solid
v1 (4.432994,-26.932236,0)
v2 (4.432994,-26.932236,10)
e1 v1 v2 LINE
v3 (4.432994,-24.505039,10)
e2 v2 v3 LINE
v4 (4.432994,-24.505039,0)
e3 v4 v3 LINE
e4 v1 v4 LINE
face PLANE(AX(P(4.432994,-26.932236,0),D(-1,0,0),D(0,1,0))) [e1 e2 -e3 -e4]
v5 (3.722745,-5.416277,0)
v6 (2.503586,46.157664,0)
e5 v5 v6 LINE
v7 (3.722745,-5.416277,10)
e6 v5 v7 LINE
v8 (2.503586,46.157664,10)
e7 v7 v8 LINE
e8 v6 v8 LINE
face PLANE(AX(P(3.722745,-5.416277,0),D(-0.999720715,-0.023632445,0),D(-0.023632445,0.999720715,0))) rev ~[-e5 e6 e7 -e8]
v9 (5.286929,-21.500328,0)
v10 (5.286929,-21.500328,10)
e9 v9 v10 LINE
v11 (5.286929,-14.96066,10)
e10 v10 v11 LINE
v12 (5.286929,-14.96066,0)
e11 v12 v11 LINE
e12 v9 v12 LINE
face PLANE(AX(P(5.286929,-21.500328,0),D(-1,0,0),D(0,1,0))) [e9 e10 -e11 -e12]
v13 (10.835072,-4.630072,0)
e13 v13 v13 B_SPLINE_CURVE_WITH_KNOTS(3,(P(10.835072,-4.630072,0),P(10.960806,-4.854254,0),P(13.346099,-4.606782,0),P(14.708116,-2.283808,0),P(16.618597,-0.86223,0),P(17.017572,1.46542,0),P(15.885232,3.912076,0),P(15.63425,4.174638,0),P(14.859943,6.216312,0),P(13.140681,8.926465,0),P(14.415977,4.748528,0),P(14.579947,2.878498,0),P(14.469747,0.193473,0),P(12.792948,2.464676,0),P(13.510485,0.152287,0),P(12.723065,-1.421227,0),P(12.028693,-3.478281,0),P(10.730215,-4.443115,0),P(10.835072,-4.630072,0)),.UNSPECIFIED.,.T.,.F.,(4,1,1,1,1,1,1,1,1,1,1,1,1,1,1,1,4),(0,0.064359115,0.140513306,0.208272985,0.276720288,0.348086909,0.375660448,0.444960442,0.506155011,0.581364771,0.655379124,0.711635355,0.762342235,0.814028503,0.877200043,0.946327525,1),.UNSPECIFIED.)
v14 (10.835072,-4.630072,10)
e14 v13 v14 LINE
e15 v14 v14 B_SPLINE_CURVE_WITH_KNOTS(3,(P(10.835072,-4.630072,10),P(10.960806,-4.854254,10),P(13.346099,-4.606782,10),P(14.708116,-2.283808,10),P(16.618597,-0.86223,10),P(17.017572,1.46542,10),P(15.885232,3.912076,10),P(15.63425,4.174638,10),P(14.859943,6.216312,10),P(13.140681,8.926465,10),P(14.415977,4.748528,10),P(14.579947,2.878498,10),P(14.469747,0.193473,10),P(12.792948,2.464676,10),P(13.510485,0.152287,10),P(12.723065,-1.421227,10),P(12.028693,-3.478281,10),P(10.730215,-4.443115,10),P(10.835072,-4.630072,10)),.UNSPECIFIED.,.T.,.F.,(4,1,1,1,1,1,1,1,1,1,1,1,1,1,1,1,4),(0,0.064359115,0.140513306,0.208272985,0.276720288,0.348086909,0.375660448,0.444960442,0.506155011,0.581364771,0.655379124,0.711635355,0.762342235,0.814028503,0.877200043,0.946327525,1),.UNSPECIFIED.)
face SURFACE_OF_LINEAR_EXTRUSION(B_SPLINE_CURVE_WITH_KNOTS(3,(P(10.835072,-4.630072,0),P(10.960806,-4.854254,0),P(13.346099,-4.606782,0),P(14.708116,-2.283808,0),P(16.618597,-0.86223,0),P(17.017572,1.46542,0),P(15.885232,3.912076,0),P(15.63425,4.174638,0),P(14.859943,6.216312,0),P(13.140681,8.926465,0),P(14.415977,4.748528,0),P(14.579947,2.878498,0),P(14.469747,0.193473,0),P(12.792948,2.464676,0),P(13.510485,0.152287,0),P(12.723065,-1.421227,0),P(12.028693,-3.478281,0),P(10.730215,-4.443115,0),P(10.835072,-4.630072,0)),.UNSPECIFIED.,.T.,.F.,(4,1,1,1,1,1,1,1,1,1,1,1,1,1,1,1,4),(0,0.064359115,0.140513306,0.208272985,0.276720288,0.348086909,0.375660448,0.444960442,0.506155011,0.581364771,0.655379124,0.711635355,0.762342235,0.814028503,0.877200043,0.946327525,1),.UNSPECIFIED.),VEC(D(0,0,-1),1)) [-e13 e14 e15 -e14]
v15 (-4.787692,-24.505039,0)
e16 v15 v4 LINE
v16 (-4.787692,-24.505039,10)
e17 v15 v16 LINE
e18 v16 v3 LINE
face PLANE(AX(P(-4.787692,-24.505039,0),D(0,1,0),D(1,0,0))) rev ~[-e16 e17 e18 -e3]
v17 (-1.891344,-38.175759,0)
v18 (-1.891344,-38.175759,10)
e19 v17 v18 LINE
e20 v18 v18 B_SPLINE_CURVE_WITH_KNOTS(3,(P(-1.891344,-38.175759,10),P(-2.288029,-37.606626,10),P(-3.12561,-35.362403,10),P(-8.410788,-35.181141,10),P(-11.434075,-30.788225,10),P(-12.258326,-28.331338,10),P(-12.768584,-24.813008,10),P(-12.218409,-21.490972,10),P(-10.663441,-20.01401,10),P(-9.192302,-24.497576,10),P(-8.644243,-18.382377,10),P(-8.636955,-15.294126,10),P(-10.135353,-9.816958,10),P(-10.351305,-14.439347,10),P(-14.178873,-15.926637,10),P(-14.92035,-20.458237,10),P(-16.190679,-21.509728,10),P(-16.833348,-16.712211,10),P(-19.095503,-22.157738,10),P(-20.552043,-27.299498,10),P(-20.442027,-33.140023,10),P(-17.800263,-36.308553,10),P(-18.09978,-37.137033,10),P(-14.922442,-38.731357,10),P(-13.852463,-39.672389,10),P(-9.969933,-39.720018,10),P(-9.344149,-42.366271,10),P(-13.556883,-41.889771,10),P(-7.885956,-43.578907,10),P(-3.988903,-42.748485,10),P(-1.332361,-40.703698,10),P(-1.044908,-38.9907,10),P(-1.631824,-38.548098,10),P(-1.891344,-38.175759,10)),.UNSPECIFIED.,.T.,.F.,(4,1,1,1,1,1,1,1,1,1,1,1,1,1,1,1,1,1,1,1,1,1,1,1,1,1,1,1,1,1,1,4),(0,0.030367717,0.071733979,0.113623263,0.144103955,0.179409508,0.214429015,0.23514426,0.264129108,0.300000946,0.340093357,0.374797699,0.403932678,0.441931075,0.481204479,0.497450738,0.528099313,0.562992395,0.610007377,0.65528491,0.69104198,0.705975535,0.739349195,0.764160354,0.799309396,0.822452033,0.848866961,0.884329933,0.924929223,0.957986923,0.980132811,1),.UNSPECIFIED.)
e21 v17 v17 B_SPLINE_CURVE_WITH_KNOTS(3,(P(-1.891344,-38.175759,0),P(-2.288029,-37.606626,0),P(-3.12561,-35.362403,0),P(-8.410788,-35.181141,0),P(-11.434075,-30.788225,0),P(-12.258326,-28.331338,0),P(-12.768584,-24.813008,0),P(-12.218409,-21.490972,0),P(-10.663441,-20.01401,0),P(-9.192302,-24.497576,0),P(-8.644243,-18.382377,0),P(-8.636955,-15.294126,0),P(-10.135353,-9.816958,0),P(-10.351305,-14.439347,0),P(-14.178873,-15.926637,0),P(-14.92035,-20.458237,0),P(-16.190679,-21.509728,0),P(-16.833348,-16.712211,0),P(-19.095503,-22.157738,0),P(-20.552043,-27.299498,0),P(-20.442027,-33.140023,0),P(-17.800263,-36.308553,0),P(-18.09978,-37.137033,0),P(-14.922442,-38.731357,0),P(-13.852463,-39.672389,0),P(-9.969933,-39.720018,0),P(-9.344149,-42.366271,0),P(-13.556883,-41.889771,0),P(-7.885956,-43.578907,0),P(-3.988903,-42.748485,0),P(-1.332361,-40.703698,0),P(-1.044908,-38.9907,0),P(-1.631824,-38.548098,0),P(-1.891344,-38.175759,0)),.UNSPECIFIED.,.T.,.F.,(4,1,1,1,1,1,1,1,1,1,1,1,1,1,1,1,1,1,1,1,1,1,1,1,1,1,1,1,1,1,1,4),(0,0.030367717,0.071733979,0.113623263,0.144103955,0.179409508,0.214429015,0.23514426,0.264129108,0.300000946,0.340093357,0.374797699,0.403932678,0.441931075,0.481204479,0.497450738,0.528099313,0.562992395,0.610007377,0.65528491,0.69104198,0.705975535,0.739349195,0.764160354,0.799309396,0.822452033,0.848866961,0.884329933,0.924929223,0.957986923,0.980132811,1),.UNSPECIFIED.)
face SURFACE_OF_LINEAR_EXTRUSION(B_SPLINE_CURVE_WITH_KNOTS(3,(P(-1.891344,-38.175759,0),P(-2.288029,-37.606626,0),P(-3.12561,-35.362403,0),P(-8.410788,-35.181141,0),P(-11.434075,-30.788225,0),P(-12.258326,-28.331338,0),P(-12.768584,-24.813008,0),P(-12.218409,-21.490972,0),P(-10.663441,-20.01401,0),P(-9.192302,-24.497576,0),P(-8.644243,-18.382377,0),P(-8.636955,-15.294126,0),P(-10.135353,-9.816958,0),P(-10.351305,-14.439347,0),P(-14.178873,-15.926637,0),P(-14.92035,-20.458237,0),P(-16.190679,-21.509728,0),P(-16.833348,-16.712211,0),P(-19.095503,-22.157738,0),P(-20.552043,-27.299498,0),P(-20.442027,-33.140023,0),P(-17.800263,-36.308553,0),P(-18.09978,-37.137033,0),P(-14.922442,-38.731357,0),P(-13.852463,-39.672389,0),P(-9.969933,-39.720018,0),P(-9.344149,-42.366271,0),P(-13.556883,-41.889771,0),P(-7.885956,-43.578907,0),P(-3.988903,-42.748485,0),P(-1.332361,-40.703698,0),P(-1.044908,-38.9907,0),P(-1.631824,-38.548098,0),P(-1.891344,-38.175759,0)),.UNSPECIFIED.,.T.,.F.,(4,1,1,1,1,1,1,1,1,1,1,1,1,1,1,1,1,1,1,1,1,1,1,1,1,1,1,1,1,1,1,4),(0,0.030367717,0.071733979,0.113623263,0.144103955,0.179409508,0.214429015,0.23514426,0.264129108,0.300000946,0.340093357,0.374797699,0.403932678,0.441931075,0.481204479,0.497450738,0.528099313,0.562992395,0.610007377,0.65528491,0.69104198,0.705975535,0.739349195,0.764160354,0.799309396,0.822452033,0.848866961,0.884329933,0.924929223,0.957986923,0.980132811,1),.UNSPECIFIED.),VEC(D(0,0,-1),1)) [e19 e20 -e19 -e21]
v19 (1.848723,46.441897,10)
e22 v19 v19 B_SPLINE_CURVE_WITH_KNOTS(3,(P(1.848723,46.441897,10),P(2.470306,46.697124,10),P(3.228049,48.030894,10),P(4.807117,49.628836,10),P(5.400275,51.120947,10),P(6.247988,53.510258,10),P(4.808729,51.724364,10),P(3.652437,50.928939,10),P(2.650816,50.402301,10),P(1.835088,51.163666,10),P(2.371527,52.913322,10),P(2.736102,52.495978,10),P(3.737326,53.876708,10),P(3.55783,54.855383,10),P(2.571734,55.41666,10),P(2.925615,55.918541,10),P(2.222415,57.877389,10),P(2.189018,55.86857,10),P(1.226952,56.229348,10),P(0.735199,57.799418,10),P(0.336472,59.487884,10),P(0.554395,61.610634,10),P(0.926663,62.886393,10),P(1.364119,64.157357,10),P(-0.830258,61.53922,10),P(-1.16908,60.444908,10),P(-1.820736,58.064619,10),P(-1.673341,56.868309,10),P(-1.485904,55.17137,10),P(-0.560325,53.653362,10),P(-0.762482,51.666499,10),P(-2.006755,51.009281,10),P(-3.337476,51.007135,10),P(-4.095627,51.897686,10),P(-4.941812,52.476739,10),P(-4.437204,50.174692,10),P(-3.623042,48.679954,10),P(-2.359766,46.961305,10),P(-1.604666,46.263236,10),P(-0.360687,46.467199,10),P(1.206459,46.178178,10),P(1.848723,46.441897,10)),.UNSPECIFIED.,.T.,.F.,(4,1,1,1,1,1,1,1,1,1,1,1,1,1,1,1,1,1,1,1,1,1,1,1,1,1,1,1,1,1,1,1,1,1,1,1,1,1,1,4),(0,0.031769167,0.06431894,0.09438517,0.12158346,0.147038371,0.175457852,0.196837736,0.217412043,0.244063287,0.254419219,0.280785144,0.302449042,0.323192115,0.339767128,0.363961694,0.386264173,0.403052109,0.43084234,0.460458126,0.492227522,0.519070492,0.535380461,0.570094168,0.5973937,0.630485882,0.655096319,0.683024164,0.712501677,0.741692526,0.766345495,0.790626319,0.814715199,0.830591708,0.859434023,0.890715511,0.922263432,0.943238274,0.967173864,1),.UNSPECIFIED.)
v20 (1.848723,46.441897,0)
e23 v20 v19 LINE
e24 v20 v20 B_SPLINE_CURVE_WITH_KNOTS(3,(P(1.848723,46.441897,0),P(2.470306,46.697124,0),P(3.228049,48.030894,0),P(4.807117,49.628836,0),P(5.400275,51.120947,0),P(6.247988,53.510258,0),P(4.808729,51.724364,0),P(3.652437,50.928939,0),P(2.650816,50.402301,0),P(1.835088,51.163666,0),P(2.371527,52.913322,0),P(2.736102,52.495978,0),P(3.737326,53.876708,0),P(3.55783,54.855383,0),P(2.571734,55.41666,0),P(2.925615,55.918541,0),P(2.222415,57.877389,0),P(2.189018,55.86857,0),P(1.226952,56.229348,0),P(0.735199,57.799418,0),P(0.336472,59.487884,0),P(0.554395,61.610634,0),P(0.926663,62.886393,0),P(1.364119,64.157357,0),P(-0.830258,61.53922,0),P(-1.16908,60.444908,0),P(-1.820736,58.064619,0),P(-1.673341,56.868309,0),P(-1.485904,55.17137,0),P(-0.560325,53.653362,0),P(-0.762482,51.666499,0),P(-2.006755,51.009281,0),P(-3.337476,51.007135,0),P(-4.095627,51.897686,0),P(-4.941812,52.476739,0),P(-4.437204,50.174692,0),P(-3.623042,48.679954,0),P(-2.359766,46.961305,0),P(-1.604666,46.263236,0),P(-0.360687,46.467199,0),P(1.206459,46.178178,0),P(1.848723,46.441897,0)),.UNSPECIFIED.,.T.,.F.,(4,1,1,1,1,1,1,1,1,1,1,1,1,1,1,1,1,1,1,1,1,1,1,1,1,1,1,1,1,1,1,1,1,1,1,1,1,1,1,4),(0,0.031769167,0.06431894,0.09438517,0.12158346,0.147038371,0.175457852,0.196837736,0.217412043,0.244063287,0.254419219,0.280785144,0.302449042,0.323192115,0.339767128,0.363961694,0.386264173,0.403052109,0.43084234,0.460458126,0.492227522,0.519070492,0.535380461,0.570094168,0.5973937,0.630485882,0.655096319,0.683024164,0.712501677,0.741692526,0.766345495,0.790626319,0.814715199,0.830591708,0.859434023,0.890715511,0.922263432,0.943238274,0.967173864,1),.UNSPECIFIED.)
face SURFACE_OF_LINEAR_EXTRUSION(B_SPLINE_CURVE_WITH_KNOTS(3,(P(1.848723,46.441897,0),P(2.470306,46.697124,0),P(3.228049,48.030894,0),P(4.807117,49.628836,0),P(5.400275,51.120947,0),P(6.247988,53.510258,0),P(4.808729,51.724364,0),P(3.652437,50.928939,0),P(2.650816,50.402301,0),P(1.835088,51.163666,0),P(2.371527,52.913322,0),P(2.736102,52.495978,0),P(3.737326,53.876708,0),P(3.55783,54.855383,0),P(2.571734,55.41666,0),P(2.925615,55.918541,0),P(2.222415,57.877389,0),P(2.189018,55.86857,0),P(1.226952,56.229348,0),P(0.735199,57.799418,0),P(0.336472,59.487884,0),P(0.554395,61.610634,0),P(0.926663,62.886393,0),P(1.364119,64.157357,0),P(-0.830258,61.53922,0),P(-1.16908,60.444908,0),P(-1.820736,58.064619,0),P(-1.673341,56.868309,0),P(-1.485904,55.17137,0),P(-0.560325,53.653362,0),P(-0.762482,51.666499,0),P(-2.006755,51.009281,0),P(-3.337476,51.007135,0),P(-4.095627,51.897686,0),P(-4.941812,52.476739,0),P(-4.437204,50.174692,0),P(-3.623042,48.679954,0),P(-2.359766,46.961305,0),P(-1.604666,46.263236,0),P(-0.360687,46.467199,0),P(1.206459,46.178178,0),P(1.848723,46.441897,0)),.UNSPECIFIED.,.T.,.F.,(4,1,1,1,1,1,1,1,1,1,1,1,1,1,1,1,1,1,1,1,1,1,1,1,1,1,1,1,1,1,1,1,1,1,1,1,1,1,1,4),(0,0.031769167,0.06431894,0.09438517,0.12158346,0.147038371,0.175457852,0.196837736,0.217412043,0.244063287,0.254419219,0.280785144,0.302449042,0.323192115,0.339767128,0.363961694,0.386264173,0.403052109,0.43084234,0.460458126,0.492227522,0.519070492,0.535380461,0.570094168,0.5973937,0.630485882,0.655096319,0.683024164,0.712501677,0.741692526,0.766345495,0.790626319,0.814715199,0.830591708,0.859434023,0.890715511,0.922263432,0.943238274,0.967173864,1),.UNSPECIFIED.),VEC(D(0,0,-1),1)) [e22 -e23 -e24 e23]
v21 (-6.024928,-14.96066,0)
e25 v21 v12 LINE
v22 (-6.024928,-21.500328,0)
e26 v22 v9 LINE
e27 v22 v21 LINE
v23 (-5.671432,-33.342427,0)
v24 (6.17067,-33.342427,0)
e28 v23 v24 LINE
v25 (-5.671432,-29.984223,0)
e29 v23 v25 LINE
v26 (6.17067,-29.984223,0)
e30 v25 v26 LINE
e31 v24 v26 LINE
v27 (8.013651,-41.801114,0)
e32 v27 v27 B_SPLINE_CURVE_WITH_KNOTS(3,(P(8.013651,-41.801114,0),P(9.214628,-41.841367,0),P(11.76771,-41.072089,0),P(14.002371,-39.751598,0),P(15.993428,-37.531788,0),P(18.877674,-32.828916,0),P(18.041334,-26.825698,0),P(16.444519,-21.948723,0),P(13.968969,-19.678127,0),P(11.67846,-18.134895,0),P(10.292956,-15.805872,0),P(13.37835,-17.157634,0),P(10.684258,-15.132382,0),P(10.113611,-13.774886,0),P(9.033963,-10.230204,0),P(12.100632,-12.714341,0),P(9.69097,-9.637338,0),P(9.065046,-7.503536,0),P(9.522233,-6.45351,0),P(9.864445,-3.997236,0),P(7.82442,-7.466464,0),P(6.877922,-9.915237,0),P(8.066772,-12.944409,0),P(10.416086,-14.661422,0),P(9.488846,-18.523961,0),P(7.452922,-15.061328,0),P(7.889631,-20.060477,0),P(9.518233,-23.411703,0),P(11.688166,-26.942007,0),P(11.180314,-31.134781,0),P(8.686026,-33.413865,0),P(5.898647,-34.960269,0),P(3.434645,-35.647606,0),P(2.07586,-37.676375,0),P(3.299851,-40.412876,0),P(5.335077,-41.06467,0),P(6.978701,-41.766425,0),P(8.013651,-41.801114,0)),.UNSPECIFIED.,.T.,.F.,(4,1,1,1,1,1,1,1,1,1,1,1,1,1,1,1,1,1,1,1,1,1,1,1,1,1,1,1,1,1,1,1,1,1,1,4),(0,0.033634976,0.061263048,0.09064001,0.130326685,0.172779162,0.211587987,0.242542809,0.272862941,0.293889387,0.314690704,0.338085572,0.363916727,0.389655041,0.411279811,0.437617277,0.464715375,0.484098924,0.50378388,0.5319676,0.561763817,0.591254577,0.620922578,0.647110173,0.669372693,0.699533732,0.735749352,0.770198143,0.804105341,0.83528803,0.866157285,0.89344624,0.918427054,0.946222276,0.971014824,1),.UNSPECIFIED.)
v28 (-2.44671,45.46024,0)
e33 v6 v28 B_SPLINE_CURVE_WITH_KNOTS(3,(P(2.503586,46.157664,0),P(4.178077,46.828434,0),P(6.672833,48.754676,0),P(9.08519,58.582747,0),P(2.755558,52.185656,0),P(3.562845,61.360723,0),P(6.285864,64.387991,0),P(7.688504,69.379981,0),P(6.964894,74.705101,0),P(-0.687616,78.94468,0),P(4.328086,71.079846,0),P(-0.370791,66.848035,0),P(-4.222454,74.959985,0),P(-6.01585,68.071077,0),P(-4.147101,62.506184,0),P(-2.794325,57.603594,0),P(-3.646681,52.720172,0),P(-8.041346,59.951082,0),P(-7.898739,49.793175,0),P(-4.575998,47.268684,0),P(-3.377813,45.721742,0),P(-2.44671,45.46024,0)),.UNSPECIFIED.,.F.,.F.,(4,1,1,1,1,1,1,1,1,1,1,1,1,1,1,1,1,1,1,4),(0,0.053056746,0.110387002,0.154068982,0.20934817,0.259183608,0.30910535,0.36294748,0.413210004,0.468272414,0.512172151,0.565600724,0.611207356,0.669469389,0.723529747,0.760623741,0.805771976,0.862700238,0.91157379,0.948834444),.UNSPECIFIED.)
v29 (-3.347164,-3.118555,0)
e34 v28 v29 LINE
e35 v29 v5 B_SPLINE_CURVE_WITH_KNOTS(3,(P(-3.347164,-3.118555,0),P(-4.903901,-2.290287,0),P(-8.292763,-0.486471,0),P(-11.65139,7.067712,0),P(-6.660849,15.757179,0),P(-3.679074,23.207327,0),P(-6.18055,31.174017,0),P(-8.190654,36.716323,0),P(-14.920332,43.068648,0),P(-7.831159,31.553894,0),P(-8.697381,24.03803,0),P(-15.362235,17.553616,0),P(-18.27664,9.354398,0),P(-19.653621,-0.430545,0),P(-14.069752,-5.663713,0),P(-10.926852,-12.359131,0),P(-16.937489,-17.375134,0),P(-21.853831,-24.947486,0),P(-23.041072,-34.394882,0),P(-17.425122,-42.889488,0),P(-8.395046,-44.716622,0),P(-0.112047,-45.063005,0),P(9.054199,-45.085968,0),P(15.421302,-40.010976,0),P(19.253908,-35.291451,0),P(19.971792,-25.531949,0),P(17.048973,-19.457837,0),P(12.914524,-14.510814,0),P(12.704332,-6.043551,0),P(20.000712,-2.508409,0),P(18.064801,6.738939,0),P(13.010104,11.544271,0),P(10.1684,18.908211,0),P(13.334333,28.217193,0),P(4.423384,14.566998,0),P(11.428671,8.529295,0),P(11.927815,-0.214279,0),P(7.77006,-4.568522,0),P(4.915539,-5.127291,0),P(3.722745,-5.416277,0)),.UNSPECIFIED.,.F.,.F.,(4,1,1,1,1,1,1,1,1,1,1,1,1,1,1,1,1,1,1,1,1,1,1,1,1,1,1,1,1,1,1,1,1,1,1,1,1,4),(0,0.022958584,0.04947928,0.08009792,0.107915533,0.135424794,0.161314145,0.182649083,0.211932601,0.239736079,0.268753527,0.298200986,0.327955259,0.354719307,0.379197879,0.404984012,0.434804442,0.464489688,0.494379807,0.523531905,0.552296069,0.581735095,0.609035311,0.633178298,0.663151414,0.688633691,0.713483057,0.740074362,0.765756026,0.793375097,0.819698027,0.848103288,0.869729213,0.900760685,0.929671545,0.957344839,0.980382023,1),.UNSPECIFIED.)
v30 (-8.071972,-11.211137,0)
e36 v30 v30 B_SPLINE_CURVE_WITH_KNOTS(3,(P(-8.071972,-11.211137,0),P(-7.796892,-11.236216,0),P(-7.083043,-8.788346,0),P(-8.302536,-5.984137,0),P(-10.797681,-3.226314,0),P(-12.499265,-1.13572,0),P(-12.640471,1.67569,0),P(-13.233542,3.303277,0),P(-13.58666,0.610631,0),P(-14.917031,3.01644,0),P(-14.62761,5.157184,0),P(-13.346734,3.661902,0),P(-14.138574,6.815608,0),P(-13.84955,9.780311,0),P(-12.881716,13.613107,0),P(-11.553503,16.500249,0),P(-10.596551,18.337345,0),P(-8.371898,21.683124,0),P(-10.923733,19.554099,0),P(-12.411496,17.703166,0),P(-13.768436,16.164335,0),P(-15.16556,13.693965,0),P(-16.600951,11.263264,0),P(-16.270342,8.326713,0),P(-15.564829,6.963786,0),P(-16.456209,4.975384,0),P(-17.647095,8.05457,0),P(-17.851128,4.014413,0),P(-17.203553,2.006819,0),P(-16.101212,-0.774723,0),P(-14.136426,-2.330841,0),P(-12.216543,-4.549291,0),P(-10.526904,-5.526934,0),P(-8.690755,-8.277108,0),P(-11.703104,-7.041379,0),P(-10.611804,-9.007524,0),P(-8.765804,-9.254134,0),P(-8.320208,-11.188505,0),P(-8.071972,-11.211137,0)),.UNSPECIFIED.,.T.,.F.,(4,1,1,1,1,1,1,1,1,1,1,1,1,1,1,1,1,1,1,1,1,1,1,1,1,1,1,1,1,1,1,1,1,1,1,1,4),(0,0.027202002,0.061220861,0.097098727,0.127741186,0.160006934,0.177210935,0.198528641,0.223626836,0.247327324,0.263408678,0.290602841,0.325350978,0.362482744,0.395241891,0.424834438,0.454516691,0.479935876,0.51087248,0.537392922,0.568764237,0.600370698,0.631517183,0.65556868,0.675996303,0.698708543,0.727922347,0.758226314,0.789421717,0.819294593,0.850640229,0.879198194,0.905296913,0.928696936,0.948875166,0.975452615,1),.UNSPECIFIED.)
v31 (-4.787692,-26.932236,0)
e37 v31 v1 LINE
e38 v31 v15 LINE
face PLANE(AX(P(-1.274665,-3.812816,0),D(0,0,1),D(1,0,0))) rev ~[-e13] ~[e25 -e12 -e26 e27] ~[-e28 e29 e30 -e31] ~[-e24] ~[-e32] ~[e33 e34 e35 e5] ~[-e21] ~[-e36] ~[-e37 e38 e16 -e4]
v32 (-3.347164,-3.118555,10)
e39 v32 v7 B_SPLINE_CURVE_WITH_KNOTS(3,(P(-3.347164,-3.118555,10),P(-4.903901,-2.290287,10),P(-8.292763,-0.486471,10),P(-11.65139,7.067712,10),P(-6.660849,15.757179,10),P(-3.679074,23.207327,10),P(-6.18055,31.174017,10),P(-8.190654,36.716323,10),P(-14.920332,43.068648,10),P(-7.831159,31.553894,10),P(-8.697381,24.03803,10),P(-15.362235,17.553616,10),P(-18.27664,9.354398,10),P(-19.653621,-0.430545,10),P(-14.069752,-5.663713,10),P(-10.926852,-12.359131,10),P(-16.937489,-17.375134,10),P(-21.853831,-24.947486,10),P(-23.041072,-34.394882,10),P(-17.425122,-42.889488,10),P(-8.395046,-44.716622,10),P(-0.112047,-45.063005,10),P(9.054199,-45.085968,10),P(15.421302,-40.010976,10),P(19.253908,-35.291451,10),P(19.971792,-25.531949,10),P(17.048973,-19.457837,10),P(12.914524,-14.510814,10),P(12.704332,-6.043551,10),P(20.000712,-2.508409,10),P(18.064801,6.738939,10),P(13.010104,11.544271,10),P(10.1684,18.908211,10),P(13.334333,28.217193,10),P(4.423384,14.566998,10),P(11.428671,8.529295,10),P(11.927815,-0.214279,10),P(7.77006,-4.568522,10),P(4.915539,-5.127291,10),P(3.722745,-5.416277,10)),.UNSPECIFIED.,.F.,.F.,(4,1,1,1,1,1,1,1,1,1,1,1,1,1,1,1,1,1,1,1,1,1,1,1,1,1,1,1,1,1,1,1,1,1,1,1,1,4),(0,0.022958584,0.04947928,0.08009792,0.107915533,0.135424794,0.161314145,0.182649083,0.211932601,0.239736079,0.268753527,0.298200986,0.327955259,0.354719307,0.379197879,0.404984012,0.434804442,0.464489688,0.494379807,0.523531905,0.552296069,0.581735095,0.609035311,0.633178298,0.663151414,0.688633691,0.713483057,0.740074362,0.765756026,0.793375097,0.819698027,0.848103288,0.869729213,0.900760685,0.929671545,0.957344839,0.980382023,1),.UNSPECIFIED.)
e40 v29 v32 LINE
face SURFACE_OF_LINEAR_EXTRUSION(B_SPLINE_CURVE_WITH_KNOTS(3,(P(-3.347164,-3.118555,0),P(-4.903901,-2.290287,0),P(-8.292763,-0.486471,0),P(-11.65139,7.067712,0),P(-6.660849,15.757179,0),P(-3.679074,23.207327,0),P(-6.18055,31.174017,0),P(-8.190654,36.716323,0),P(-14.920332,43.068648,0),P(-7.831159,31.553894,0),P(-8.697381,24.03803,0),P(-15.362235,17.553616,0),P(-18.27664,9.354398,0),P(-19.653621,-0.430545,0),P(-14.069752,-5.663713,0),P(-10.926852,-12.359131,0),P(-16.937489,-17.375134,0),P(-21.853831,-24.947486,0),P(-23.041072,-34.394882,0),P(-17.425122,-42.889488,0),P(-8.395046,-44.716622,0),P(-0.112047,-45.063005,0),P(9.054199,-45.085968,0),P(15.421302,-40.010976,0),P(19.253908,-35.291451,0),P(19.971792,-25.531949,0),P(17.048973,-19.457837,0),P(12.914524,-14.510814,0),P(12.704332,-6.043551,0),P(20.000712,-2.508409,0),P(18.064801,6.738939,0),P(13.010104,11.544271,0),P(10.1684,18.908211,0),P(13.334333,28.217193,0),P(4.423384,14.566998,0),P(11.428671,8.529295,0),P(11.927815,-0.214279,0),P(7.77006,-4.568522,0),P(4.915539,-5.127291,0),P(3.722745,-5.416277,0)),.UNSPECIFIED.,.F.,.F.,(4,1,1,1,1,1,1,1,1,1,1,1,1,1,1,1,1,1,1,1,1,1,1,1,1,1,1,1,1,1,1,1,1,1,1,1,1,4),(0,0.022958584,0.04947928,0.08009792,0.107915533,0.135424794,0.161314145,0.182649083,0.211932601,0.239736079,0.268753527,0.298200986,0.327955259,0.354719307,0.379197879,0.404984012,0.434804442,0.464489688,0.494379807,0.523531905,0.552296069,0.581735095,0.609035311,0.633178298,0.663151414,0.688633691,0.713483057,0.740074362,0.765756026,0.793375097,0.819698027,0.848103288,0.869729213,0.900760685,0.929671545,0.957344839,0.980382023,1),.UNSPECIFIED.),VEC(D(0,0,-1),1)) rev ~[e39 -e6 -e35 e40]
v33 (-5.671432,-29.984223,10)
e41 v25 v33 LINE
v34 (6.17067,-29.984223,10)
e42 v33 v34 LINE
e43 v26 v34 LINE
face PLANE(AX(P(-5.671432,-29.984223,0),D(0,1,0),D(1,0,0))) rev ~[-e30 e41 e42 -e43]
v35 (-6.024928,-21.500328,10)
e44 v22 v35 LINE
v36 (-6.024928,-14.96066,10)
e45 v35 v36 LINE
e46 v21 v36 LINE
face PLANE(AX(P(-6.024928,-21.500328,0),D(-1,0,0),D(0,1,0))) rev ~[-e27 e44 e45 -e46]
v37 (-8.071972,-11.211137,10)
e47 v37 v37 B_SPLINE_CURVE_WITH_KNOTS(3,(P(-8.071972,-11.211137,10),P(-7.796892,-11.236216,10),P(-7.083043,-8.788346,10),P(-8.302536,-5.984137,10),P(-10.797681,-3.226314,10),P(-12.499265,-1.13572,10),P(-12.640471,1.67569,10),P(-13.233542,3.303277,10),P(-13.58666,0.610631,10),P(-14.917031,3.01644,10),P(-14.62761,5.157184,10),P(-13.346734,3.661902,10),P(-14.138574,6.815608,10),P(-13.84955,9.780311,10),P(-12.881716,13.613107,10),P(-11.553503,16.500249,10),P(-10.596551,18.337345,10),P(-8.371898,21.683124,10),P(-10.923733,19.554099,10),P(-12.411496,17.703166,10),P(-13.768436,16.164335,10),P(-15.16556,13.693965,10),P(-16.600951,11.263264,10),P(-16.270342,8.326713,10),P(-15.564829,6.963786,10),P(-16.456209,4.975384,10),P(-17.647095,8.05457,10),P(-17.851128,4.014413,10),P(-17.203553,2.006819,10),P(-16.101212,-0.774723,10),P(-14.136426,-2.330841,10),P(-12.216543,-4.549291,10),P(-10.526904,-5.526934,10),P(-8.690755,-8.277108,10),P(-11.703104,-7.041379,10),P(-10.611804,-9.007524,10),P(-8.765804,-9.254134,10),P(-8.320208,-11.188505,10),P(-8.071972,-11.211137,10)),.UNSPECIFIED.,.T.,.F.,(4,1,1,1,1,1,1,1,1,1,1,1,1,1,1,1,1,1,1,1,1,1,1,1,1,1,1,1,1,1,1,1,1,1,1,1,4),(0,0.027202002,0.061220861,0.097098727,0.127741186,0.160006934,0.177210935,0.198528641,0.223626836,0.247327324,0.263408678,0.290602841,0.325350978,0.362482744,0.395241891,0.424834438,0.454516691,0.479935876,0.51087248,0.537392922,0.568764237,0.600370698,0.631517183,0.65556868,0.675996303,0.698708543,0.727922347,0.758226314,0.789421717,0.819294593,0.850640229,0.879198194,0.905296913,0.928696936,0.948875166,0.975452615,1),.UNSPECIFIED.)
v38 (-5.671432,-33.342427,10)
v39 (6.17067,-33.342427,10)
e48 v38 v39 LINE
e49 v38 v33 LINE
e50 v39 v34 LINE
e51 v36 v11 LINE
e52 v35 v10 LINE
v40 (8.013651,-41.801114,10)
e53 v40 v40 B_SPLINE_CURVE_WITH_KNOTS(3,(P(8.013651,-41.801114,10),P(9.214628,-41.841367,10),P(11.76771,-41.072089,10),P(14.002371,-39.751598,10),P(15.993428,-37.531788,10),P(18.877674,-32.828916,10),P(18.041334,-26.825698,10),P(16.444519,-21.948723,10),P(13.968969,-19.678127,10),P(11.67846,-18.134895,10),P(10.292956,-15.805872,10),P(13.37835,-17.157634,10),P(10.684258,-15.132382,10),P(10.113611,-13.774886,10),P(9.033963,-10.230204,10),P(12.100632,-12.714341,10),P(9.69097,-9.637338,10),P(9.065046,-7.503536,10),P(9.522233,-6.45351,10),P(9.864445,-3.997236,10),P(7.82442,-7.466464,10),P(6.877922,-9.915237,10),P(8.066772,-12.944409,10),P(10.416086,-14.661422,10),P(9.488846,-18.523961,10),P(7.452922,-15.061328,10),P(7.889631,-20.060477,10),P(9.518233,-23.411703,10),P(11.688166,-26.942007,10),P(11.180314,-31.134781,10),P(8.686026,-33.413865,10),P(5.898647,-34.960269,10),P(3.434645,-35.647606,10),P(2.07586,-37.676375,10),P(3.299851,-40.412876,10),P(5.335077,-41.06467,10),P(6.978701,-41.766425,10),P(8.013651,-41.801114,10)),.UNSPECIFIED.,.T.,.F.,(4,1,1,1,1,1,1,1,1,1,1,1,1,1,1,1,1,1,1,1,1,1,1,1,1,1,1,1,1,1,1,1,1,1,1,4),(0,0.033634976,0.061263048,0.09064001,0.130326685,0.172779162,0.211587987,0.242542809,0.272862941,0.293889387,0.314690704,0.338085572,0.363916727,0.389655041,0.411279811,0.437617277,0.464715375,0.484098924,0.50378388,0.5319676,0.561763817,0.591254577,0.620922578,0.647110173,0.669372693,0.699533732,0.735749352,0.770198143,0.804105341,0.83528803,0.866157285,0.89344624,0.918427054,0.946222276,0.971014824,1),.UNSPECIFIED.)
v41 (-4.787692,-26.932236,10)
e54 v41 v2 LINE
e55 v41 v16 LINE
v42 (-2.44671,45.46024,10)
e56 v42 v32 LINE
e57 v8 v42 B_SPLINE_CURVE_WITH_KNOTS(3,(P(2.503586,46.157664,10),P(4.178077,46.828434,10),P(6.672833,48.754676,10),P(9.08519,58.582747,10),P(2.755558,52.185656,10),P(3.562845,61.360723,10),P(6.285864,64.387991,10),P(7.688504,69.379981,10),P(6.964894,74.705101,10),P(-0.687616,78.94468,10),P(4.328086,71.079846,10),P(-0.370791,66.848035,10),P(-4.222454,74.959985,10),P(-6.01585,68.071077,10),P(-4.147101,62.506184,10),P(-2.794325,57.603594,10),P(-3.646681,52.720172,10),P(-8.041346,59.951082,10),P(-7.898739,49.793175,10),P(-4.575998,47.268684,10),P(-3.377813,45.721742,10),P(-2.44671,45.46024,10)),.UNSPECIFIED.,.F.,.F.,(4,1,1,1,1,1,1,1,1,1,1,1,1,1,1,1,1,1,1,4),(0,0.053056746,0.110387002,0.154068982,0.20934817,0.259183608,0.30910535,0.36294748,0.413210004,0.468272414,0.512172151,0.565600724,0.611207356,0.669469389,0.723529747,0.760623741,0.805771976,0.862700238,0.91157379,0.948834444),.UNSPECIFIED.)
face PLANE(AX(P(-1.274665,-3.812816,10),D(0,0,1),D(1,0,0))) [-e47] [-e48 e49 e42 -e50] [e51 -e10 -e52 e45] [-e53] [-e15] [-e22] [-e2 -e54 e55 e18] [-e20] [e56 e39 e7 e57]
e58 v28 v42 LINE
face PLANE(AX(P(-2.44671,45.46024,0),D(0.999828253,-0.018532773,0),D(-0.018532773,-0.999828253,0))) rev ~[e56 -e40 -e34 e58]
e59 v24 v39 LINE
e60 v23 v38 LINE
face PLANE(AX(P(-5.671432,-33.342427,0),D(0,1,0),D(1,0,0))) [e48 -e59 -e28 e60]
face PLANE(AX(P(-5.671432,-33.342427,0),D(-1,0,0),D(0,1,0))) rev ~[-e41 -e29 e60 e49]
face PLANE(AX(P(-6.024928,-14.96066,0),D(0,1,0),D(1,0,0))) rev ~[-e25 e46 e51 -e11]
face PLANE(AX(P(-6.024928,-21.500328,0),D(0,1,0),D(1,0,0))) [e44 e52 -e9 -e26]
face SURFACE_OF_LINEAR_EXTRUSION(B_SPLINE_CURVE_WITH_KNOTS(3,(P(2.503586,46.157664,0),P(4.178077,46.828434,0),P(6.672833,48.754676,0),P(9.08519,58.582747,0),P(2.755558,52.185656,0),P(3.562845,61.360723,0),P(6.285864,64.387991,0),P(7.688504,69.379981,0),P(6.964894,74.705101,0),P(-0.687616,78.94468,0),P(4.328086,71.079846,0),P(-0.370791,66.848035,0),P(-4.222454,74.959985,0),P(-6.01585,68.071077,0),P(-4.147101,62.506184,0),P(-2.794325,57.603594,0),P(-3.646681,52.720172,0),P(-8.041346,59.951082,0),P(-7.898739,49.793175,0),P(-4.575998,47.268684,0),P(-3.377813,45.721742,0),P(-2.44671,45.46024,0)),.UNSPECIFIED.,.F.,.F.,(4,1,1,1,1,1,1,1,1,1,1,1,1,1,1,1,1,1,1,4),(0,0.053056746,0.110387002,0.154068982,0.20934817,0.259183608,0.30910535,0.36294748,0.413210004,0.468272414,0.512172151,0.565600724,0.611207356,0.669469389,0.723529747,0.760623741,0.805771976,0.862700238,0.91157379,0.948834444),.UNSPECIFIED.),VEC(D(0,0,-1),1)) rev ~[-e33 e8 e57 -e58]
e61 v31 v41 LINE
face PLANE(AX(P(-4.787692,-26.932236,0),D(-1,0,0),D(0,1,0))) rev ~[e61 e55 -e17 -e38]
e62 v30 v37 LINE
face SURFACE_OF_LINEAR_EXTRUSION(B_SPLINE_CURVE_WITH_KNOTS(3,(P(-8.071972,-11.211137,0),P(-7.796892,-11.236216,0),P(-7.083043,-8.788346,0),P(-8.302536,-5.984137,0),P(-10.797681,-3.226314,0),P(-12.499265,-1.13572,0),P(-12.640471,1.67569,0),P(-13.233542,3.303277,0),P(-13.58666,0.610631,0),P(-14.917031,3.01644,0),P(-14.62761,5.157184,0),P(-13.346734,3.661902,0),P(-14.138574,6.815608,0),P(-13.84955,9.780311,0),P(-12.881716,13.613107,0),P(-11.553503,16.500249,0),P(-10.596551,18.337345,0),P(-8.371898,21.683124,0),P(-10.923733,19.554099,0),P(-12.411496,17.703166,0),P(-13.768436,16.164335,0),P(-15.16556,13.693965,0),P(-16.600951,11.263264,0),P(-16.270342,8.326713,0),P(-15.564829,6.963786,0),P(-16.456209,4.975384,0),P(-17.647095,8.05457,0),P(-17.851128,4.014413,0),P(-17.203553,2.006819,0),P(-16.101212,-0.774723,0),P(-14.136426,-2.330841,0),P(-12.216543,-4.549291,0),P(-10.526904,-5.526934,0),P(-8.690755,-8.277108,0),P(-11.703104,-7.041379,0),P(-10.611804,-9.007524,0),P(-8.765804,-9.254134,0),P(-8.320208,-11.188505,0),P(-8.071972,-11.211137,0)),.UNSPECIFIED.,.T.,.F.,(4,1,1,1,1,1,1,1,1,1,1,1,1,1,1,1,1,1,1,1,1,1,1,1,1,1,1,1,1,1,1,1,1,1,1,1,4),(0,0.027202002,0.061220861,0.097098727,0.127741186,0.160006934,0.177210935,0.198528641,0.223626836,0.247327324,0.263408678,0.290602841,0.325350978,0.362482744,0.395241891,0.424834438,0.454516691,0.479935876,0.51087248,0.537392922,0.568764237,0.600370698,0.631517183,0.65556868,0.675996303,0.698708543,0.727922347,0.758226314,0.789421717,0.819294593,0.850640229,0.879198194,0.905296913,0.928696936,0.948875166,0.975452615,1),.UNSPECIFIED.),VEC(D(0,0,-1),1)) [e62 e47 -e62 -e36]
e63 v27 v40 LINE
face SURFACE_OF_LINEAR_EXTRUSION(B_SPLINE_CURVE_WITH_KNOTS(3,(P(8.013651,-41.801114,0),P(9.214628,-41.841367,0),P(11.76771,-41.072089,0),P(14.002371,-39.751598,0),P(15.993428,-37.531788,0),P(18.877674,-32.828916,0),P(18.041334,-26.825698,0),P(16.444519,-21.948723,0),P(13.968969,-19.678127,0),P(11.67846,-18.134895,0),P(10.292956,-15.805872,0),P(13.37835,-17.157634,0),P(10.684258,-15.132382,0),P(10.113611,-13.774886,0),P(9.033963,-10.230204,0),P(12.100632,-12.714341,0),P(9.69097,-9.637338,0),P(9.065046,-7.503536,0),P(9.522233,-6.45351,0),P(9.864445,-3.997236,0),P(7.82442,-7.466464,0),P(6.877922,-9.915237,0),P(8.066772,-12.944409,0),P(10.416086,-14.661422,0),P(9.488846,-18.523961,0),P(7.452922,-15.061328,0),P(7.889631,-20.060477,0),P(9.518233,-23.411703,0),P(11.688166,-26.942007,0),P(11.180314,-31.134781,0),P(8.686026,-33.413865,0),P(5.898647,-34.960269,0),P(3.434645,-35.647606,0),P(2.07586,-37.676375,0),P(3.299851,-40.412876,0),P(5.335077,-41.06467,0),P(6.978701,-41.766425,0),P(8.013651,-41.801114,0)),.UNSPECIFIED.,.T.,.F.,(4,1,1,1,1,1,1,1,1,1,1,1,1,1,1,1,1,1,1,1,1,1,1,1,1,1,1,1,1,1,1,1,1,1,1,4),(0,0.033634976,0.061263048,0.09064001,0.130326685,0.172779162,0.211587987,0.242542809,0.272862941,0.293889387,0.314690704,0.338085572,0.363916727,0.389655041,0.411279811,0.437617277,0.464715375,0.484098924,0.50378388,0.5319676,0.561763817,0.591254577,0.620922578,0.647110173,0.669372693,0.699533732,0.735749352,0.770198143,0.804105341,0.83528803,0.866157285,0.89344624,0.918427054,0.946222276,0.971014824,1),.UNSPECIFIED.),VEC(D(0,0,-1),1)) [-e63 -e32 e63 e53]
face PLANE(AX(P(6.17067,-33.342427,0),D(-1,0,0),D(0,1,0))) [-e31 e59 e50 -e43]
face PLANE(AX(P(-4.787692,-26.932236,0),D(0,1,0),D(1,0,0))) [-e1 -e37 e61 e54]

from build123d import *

# Parameters (mm, degrees)
F0_W     = 11.8421022727
F0_H     = 3.3582047127
F0_W_2   = 9.2206853129
F0_H_2   = 2.4271969222
F0_W_3   = 11.3118568957
F0_H_3   = 6.5396687418
F1_DEPTH = 10


with BuildPart() as f1:
    # F0 (on Top) → F1 (new body)
    with BuildSketch(Plane.XY):
        with BuildLine():
            Line((-3.3471642808, -12.8396819925), (-3.3471642808, -3.1185547101))
            add(Edge.make_bspline(
                [(-3.3471642808, -3.1185547101), (-4.903901096, -2.2902866601), (-8.2927629851, -0.4864711446), (-11.6513903053, 7.0677121152), (-6.6608494765, 15.7571787988), (-3.6790743008, 23.2073270029), (-6.1805498258, 31.1740174685), (-8.1906541158, 36.716323439), (-14.9203324328, 43.0686476376), (-7.8311592558, 31.5538938349), (-8.6973809348, 24.0380303378), (-15.3622352034, 17.5536164592), (-18.2766397892, 9.3543979702), (-19.6536205912, -0.4305448998), (-14.0697520783, -5.6637125734), (-10.9268523131, -12.3591305071), (-16.9374891859, -17.3751336476), (-21.8538306696, -24.947486117), (-23.0410719714, -34.394881808), (-17.4251215547, -42.8894882883), (-8.3950460899, -44.7166221453), (-0.1120469015, -45.0630050854), (9.0541988201, -45.0859678992), (15.4213017868, -40.0109763505), (19.2539076112, -35.2914505835), (19.9717916262, -25.5319492992), (17.0489727644, -19.457836996), (12.9145238682, -14.510813779), (12.7043316821, -6.0435506423), (20.0007119526, -2.5084091492), (18.0648005428, 6.7389390497), (13.0101036716, 11.5442710118), (10.1683995789, 18.9082107223), (13.3343326185, 28.2171927291), (4.4233839404, 14.5669975841), (11.42867076, 8.5292946876), (11.9278154745, -0.2142790535), (7.7700603411, -4.5685223702), (4.9155394147, -5.127290974), (3.7227451188, -5.4162765297)],
                knots=[0, 0, 0, 0, 0.0229585842, 0.0494792802, 0.0800979203, 0.1079155331, 0.1354247943, 0.1613141449, 0.1826490829, 0.2119326009, 0.2397360785, 0.2687535267, 0.2982009865, 0.3279552592, 0.3547193068, 0.3791978786, 0.4049840116, 0.4348044416, 0.4644896876, 0.4943798073, 0.5235319054, 0.552296069, 0.5817350946, 0.6090353113, 0.6331782983, 0.6631514142, 0.6886336906, 0.7134830575, 0.7400743616, 0.7657560257, 0.7933750972, 0.8196980275, 0.8481032881, 0.8697292126, 0.9007606855, 0.9296715453, 0.9573448386, 0.9803820232, 1, 1, 1, 1], degree=3))
            Line((3.7227451188, -5.4162765297), (3.7227451188, -12.8396819925))
            Line((3.7227451188, -12.8396819925), (-3.3471642808, -12.8396819925))
        make_face()
        with BuildLine():
            add(Edge.make_bspline(
                [(-1.8913435756, -38.1757591162), (-2.2880289809, -37.606626001), (-3.1256098808, -35.3624031419), (-8.4107884147, -35.1811407675), (-11.4340745602, -30.7882249185), (-12.2583256873, -28.331337937), (-12.7685843166, -24.8130078905), (-12.2184090444, -21.4909715801), (-10.6634411788, -20.014009505), (-9.1923022949, -24.4975757119), (-8.6442425956, -18.3823769202), (-8.6369549403, -15.2941263066), (-10.1353525482, -9.816958158), (-10.351304521, -14.439346867), (-14.1788734004, -15.9266368498), (-14.9203497512, -20.458236708), (-16.1906791957, -21.5097275797), (-16.8333478652, -16.7122108899), (-19.0955027013, -22.1577377061), (-20.5520428423, -27.2994979216), (-20.4420273266, -33.1400225797), (-17.8002633513, -36.308552516), (-18.0997804573, -37.1370331078), (-14.9224417767, -38.7313567706), (-13.852463201, -39.6723886226), (-9.9699332221, -39.7200175639), (-9.3441491067, -42.3662705355), (-13.5568826818, -41.8897707959), (-7.8859564532, -43.5789069131), (-3.988903033, -42.7484851444), (-1.3323610374, -40.7036983338), (-1.0449083411, -38.9906998028), (-1.6318237677, -38.5480977873), (-1.8913435756, -38.1757591162)],
                knots=[0, 0, 0, 0, 0.0303677172, 0.0717339787, 0.1136232633, 0.144103955, 0.1794095084, 0.2144290149, 0.2351442601, 0.264129108, 0.3000009463, 0.340093357, 0.3747976989, 0.4039326785, 0.4419310747, 0.4812044789, 0.4974507382, 0.5280993132, 0.562992395, 0.6100073772, 0.6552849103, 0.6910419801, 0.7059755348, 0.7393491946, 0.764160354, 0.7993093963, 0.822452033, 0.8488669615, 0.8843299335, 0.9249292226, 0.9579869232, 0.9801328105, 1, 1, 1, 1], degree=3))
        make_face(mode=Mode.SUBTRACT)
        with BuildLine():
            add(Edge.make_bspline(
                [(-8.0719721649, -11.21113677), (-7.7968915827, -11.2362164167), (-7.0830433666, -8.7883455063), (-8.3025361808, -5.9841373952), (-10.797680657, -3.2263138688), (-12.4992647832, -1.1357202701), (-12.6404713867, 1.6756904806), (-13.2335424931, 3.3032773655), (-13.5866598075, 0.6106314163), (-14.9170306998, 3.0164399012), (-14.6276098457, 5.1571837126), (-13.3467339052, 3.6619017255), (-14.1385740309, 6.8156075089), (-13.8495503648, 9.7803113332), (-12.8817160105, 13.6131068435), (-11.5535030293, 16.5002494852), (-10.5965505033, 18.3373451114), (-8.3718975934, 21.6831241942), (-10.923733446, 19.5540986786), (-12.4114958096, 17.7031656965), (-13.7684364847, 16.1643350933), (-15.1655601843, 13.6939648571), (-16.6009505735, 11.2632644835), (-16.2703417813, 8.3267133766), (-15.564829165, 6.9637858042), (-16.4562086574, 4.9753839541), (-17.6470953753, 8.054570022), (-17.851128122, 4.0144129971), (-17.2035533456, 2.0068193835), (-16.1012115148, -0.7747225837), (-14.1364258403, -2.330841491), (-12.2165425585, -4.5492910281), (-10.5269037861, -5.5269342631), (-8.6907545933, -8.2771084327), (-11.7031036337, -7.0413789111), (-10.611803892, -9.0075240754), (-8.7658043525, -9.2541343121), (-8.3202078974, -11.1885046219), (-8.0719721649, -11.21113677)],
                knots=[0, 0, 0, 0, 0.0272020021, 0.0612208612, 0.0970987274, 0.1277411858, 0.1600069336, 0.177210935, 0.1985286412, 0.2236268362, 0.2473273242, 0.2634086778, 0.2906028414, 0.3253509775, 0.3624827443, 0.3952418913, 0.4248344384, 0.4545166912, 0.479935876, 0.5108724797, 0.5373929218, 0.5687642371, 0.6003706981, 0.6315171834, 0.6555686796, 0.6759963033, 0.698708543, 0.7279223466, 0.758226314, 0.7894217174, 0.8192945931, 0.8506402291, 0.8791981939, 0.9052969132, 0.9286969361, 0.9488751656, 0.9754526152, 1, 1, 1, 1], degree=3))
        make_face(mode=Mode.SUBTRACT)
        with Locations((0.249618876, -31.6633250846)):
            Rectangle(F0_W, F0_H, mode=Mode.SUBTRACT)
        with Locations((-0.1773491384, -25.7186377129)):
            Rectangle(F0_W_2, F0_H_2, mode=Mode.SUBTRACT)
        with Locations((-0.368999244, -18.2304938846)):
            Rectangle(F0_W_3, F0_H_3, mode=Mode.SUBTRACT)
        with BuildLine():
            add(Edge.make_bspline(
                [(8.0136509476, -41.8011138395), (9.2146275298, -41.8413674331), (11.7677100492, -41.0720890367), (14.0023708248, -39.7515977435), (15.9934280312, -37.5317876207), (18.8776737372, -32.8289163441), (18.0413336603, -26.8256975262), (16.4445191853, -21.9487234581), (13.9689691823, -19.6781274525), (11.6784597774, -18.1348953921), (10.292955633, -15.8058720851), (13.378350134, -17.1576336404), (10.6842578645, -15.132381769), (10.1136113818, -13.7748864188), (9.0339634176, -10.2302035799), (12.1006315538, -12.7143409905), (9.6909698621, -9.6373377386), (9.0650457263, -7.5035357643), (9.5222333927, -6.4535098703), (9.8644450441, -3.9972355614), (7.8244195355, -7.4664638532), (6.8779221215, -9.9152370324), (8.0667720944, -12.9444086997), (10.4160855152, -14.6614221125), (9.4888464285, -18.5239613784), (7.4529217073, -15.0613278878), (7.8896308568, -20.0604767233), (9.518232998, -23.4117025225), (11.6881655686, -26.9420069912), (11.1803137866, -31.134780787), (8.6860260269, -33.4138648039), (5.8986474452, -34.9602692731), (3.434644858, -35.6476055855), (2.0758598595, -37.6763751274), (3.2998510062, -40.412876191), (5.3350770043, -41.0646704494), (6.9787009707, -41.7664250235), (8.0136509476, -41.8011138395)],
                knots=[0, 0, 0, 0, 0.0336349756, 0.0612630477, 0.0906400103, 0.1303266849, 0.1727791618, 0.2115879866, 0.2425428089, 0.2728629412, 0.2938893873, 0.3146907036, 0.3380855724, 0.3639167273, 0.3896550407, 0.4112798106, 0.4376172767, 0.4647153752, 0.4840989235, 0.5037838795, 0.5319676002, 0.561763817, 0.5912545771, 0.6209225783, 0.6471101735, 0.6693726928, 0.6995337324, 0.7357493525, 0.7701981431, 0.8041053411, 0.8352880298, 0.8661572846, 0.8934462404, 0.9184270538, 0.946222276, 0.9710148244, 1, 1, 1, 1], degree=3))
        make_face(mode=Mode.SUBTRACT)
        with BuildLine():
            add(Edge.make_bspline(
                [(10.8350715789, -4.6300719492), (10.9608063995, -4.8542538119), (13.3460986249, -4.606781794), (14.7081161786, -2.2838075509), (16.6185972869, -0.8622304661), (17.0175716771, 1.4654202348), (15.8852322801, 3.9120764407), (15.6342496014, 4.1746375419), (14.859943263, 6.2163117472), (13.1406808678, 8.9264648211), (14.4159771018, 4.7485280249), (14.5799469711, 2.8784981348), (14.4697471315, 0.1934733631), (12.7929478385, 2.464675982), (13.5104846617, 0.1522866619), (12.723064814, -1.4212270963), (12.0286925416, -3.4782805439), (10.7302146512, -4.443114818), (10.8350715789, -4.6300719492)],
                knots=[0, 0, 0, 0, 0.0643591149, 0.1405133063, 0.2082729845, 0.2767202884, 0.3480869086, 0.3756604483, 0.4449604423, 0.5061550113, 0.581364771, 0.6553791242, 0.7116353548, 0.7623422352, 0.8140285026, 0.8772000429, 0.9463275247, 1, 1, 1, 1], degree=3))
        make_face(mode=Mode.SUBTRACT)
        with BuildLine():
            Line((-2.4467098298, 45.4602402497), (-3.3471642808, -3.1185547101))
            Line((-3.3471642808, -3.1185547101), (-3.3471642808, -12.8396819925))
            Line((-3.3471642808, -12.8396819925), (3.7227451188, -12.8396819925))
            Line((3.7227451188, -12.8396819925), (3.7227451188, -5.4162765297))
            Line((3.7227451188, -5.4162765297), (2.5035862925, 46.1576643308))
            add(Edge.make_bspline(
                [(-2.4467098298, 45.4602402497), (-1.1681387895, 45.1011510024), (0.8887821158, 45.5108045034), (2.5035862925, 46.1576643308)],
                knots=[0.9488344444, 0.9488344444, 0.9488344444, 0.9488344444, 1, 1, 1, 1], degree=3))
        make_face()
        with BuildLine():
            add(Edge.make_bspline(
                [(2.5035862925, 46.1576643308), (4.1780771354, 46.8284335009), (6.6728326466, 48.7546756108), (9.0851899114, 58.5827467342), (2.7555577108, 52.1856557306), (3.5628449709, 61.3607234164), (6.2858643953, 64.3879913874), (7.688503687, 69.3799811376), (6.9648944733, 74.7051005581), (-0.6876162509, 78.9446799426), (4.3280861535, 71.0798463347), (-0.3707906639, 66.8480352569), (-4.2224538165, 74.9599848804), (-6.0158500791, 68.0710770329), (-4.1471013907, 62.5061837591), (-2.7943249382, 57.6035936861), (-3.6466806823, 52.7201723399), (-8.0413461086, 59.9510819702), (-7.8987386977, 49.7931748715), (-4.5759982782, 47.2686837951), (-3.377812657, 45.7217423508), (-2.4467098298, 45.4602402497)],
                knots=[0, 0, 0, 0, 0.0530567456, 0.1103870018, 0.1540689821, 0.2093481698, 0.2591836084, 0.3091053504, 0.3629474799, 0.4132100044, 0.4682724144, 0.5121721508, 0.5656007241, 0.6112073557, 0.6694693888, 0.7235297472, 0.7606237414, 0.8057719757, 0.8627002382, 0.9115737901, 0.9488344444, 0.9488344444, 0.9488344444, 0.9488344444], degree=3))
            add(Edge.make_bspline(
                [(-2.4467098298, 45.4602402497), (-1.1681387895, 45.1011510024), (0.8887821158, 45.5108045034), (2.5035862925, 46.1576643308)],
                knots=[0.9488344444, 0.9488344444, 0.9488344444, 0.9488344444, 1, 1, 1, 1], degree=3))
        make_face()
        with BuildLine():
            add(Edge.make_bspline(
                [(1.8487228999, 46.4418966974), (2.4703062743, 46.6971239092), (3.2280493896, 48.0308935465), (4.8071168014, 49.6288357842), (5.4002746867, 51.1209474093), (6.2479877, 53.5102579709), (4.8087285504, 51.7243637701), (3.6524368308, 50.9289391692), (2.6508156777, 50.4023008), (1.8350882642, 51.1636661835), (2.3715272133, 52.9133221358), (2.7361020203, 52.495978462), (3.7373260878, 53.8767084964), (3.5578298887, 54.85538334), (2.5717344843, 55.4166600139), (2.9256149255, 55.9185406711), (2.2224145574, 57.8773889238), (2.18901788, 55.8685699152), (1.2269518283, 56.2293480968), (0.7351988602, 57.7994175226), (0.3364720849, 59.4878835741), (0.5543948594, 61.6106341091), (0.9266625508, 62.8863931205), (1.3641187741, 64.157357405), (-0.8302580239, 61.5392198299), (-1.1690797955, 60.4449077801), (-1.8207361173, 58.06461945), (-1.673341237, 56.8683087415), (-1.4859044682, 55.1713697286), (-0.5603253743, 53.6533615306), (-0.7624819162, 51.6664990013), (-2.0067548391, 51.009280589), (-3.3374763695, 51.0071347324), (-4.0956266861, 51.8976858674), (-4.9418118164, 52.4767390321), (-4.4372036229, 50.1746923481), (-3.6230419656, 48.6799544741), (-2.3597655994, 46.9613054677), (-1.6046663492, 46.2632355976), (-0.3606868536, 46.4671994962), (1.206459271, 46.1781780041), (1.8487228999, 46.4418966974)],
                knots=[0, 0, 0, 0, 0.0317691669, 0.0643189403, 0.0943851697, 0.1215834603, 0.1470383711, 0.1754578515, 0.1968377358, 0.2174120431, 0.244063287, 0.2544192188, 0.280785144, 0.3024490417, 0.3231921147, 0.339767128, 0.3639616936, 0.3862641728, 0.4030521088, 0.4308423405, 0.4604581256, 0.4922275218, 0.5190704922, 0.5353804611, 0.5700941678, 0.5973936999, 0.6304858823, 0.6550963188, 0.6830241644, 0.7125016771, 0.7416925265, 0.7663454952, 0.7906263195, 0.8147151992, 0.8305917083, 0.8594340227, 0.8907155111, 0.9222634324, 0.9432382738, 0.9671738639, 1, 1, 1, 1], degree=3))
        make_face(mode=Mode.SUBTRACT)
    extrude(amount=F1_DEPTH)


solid = f1.part
